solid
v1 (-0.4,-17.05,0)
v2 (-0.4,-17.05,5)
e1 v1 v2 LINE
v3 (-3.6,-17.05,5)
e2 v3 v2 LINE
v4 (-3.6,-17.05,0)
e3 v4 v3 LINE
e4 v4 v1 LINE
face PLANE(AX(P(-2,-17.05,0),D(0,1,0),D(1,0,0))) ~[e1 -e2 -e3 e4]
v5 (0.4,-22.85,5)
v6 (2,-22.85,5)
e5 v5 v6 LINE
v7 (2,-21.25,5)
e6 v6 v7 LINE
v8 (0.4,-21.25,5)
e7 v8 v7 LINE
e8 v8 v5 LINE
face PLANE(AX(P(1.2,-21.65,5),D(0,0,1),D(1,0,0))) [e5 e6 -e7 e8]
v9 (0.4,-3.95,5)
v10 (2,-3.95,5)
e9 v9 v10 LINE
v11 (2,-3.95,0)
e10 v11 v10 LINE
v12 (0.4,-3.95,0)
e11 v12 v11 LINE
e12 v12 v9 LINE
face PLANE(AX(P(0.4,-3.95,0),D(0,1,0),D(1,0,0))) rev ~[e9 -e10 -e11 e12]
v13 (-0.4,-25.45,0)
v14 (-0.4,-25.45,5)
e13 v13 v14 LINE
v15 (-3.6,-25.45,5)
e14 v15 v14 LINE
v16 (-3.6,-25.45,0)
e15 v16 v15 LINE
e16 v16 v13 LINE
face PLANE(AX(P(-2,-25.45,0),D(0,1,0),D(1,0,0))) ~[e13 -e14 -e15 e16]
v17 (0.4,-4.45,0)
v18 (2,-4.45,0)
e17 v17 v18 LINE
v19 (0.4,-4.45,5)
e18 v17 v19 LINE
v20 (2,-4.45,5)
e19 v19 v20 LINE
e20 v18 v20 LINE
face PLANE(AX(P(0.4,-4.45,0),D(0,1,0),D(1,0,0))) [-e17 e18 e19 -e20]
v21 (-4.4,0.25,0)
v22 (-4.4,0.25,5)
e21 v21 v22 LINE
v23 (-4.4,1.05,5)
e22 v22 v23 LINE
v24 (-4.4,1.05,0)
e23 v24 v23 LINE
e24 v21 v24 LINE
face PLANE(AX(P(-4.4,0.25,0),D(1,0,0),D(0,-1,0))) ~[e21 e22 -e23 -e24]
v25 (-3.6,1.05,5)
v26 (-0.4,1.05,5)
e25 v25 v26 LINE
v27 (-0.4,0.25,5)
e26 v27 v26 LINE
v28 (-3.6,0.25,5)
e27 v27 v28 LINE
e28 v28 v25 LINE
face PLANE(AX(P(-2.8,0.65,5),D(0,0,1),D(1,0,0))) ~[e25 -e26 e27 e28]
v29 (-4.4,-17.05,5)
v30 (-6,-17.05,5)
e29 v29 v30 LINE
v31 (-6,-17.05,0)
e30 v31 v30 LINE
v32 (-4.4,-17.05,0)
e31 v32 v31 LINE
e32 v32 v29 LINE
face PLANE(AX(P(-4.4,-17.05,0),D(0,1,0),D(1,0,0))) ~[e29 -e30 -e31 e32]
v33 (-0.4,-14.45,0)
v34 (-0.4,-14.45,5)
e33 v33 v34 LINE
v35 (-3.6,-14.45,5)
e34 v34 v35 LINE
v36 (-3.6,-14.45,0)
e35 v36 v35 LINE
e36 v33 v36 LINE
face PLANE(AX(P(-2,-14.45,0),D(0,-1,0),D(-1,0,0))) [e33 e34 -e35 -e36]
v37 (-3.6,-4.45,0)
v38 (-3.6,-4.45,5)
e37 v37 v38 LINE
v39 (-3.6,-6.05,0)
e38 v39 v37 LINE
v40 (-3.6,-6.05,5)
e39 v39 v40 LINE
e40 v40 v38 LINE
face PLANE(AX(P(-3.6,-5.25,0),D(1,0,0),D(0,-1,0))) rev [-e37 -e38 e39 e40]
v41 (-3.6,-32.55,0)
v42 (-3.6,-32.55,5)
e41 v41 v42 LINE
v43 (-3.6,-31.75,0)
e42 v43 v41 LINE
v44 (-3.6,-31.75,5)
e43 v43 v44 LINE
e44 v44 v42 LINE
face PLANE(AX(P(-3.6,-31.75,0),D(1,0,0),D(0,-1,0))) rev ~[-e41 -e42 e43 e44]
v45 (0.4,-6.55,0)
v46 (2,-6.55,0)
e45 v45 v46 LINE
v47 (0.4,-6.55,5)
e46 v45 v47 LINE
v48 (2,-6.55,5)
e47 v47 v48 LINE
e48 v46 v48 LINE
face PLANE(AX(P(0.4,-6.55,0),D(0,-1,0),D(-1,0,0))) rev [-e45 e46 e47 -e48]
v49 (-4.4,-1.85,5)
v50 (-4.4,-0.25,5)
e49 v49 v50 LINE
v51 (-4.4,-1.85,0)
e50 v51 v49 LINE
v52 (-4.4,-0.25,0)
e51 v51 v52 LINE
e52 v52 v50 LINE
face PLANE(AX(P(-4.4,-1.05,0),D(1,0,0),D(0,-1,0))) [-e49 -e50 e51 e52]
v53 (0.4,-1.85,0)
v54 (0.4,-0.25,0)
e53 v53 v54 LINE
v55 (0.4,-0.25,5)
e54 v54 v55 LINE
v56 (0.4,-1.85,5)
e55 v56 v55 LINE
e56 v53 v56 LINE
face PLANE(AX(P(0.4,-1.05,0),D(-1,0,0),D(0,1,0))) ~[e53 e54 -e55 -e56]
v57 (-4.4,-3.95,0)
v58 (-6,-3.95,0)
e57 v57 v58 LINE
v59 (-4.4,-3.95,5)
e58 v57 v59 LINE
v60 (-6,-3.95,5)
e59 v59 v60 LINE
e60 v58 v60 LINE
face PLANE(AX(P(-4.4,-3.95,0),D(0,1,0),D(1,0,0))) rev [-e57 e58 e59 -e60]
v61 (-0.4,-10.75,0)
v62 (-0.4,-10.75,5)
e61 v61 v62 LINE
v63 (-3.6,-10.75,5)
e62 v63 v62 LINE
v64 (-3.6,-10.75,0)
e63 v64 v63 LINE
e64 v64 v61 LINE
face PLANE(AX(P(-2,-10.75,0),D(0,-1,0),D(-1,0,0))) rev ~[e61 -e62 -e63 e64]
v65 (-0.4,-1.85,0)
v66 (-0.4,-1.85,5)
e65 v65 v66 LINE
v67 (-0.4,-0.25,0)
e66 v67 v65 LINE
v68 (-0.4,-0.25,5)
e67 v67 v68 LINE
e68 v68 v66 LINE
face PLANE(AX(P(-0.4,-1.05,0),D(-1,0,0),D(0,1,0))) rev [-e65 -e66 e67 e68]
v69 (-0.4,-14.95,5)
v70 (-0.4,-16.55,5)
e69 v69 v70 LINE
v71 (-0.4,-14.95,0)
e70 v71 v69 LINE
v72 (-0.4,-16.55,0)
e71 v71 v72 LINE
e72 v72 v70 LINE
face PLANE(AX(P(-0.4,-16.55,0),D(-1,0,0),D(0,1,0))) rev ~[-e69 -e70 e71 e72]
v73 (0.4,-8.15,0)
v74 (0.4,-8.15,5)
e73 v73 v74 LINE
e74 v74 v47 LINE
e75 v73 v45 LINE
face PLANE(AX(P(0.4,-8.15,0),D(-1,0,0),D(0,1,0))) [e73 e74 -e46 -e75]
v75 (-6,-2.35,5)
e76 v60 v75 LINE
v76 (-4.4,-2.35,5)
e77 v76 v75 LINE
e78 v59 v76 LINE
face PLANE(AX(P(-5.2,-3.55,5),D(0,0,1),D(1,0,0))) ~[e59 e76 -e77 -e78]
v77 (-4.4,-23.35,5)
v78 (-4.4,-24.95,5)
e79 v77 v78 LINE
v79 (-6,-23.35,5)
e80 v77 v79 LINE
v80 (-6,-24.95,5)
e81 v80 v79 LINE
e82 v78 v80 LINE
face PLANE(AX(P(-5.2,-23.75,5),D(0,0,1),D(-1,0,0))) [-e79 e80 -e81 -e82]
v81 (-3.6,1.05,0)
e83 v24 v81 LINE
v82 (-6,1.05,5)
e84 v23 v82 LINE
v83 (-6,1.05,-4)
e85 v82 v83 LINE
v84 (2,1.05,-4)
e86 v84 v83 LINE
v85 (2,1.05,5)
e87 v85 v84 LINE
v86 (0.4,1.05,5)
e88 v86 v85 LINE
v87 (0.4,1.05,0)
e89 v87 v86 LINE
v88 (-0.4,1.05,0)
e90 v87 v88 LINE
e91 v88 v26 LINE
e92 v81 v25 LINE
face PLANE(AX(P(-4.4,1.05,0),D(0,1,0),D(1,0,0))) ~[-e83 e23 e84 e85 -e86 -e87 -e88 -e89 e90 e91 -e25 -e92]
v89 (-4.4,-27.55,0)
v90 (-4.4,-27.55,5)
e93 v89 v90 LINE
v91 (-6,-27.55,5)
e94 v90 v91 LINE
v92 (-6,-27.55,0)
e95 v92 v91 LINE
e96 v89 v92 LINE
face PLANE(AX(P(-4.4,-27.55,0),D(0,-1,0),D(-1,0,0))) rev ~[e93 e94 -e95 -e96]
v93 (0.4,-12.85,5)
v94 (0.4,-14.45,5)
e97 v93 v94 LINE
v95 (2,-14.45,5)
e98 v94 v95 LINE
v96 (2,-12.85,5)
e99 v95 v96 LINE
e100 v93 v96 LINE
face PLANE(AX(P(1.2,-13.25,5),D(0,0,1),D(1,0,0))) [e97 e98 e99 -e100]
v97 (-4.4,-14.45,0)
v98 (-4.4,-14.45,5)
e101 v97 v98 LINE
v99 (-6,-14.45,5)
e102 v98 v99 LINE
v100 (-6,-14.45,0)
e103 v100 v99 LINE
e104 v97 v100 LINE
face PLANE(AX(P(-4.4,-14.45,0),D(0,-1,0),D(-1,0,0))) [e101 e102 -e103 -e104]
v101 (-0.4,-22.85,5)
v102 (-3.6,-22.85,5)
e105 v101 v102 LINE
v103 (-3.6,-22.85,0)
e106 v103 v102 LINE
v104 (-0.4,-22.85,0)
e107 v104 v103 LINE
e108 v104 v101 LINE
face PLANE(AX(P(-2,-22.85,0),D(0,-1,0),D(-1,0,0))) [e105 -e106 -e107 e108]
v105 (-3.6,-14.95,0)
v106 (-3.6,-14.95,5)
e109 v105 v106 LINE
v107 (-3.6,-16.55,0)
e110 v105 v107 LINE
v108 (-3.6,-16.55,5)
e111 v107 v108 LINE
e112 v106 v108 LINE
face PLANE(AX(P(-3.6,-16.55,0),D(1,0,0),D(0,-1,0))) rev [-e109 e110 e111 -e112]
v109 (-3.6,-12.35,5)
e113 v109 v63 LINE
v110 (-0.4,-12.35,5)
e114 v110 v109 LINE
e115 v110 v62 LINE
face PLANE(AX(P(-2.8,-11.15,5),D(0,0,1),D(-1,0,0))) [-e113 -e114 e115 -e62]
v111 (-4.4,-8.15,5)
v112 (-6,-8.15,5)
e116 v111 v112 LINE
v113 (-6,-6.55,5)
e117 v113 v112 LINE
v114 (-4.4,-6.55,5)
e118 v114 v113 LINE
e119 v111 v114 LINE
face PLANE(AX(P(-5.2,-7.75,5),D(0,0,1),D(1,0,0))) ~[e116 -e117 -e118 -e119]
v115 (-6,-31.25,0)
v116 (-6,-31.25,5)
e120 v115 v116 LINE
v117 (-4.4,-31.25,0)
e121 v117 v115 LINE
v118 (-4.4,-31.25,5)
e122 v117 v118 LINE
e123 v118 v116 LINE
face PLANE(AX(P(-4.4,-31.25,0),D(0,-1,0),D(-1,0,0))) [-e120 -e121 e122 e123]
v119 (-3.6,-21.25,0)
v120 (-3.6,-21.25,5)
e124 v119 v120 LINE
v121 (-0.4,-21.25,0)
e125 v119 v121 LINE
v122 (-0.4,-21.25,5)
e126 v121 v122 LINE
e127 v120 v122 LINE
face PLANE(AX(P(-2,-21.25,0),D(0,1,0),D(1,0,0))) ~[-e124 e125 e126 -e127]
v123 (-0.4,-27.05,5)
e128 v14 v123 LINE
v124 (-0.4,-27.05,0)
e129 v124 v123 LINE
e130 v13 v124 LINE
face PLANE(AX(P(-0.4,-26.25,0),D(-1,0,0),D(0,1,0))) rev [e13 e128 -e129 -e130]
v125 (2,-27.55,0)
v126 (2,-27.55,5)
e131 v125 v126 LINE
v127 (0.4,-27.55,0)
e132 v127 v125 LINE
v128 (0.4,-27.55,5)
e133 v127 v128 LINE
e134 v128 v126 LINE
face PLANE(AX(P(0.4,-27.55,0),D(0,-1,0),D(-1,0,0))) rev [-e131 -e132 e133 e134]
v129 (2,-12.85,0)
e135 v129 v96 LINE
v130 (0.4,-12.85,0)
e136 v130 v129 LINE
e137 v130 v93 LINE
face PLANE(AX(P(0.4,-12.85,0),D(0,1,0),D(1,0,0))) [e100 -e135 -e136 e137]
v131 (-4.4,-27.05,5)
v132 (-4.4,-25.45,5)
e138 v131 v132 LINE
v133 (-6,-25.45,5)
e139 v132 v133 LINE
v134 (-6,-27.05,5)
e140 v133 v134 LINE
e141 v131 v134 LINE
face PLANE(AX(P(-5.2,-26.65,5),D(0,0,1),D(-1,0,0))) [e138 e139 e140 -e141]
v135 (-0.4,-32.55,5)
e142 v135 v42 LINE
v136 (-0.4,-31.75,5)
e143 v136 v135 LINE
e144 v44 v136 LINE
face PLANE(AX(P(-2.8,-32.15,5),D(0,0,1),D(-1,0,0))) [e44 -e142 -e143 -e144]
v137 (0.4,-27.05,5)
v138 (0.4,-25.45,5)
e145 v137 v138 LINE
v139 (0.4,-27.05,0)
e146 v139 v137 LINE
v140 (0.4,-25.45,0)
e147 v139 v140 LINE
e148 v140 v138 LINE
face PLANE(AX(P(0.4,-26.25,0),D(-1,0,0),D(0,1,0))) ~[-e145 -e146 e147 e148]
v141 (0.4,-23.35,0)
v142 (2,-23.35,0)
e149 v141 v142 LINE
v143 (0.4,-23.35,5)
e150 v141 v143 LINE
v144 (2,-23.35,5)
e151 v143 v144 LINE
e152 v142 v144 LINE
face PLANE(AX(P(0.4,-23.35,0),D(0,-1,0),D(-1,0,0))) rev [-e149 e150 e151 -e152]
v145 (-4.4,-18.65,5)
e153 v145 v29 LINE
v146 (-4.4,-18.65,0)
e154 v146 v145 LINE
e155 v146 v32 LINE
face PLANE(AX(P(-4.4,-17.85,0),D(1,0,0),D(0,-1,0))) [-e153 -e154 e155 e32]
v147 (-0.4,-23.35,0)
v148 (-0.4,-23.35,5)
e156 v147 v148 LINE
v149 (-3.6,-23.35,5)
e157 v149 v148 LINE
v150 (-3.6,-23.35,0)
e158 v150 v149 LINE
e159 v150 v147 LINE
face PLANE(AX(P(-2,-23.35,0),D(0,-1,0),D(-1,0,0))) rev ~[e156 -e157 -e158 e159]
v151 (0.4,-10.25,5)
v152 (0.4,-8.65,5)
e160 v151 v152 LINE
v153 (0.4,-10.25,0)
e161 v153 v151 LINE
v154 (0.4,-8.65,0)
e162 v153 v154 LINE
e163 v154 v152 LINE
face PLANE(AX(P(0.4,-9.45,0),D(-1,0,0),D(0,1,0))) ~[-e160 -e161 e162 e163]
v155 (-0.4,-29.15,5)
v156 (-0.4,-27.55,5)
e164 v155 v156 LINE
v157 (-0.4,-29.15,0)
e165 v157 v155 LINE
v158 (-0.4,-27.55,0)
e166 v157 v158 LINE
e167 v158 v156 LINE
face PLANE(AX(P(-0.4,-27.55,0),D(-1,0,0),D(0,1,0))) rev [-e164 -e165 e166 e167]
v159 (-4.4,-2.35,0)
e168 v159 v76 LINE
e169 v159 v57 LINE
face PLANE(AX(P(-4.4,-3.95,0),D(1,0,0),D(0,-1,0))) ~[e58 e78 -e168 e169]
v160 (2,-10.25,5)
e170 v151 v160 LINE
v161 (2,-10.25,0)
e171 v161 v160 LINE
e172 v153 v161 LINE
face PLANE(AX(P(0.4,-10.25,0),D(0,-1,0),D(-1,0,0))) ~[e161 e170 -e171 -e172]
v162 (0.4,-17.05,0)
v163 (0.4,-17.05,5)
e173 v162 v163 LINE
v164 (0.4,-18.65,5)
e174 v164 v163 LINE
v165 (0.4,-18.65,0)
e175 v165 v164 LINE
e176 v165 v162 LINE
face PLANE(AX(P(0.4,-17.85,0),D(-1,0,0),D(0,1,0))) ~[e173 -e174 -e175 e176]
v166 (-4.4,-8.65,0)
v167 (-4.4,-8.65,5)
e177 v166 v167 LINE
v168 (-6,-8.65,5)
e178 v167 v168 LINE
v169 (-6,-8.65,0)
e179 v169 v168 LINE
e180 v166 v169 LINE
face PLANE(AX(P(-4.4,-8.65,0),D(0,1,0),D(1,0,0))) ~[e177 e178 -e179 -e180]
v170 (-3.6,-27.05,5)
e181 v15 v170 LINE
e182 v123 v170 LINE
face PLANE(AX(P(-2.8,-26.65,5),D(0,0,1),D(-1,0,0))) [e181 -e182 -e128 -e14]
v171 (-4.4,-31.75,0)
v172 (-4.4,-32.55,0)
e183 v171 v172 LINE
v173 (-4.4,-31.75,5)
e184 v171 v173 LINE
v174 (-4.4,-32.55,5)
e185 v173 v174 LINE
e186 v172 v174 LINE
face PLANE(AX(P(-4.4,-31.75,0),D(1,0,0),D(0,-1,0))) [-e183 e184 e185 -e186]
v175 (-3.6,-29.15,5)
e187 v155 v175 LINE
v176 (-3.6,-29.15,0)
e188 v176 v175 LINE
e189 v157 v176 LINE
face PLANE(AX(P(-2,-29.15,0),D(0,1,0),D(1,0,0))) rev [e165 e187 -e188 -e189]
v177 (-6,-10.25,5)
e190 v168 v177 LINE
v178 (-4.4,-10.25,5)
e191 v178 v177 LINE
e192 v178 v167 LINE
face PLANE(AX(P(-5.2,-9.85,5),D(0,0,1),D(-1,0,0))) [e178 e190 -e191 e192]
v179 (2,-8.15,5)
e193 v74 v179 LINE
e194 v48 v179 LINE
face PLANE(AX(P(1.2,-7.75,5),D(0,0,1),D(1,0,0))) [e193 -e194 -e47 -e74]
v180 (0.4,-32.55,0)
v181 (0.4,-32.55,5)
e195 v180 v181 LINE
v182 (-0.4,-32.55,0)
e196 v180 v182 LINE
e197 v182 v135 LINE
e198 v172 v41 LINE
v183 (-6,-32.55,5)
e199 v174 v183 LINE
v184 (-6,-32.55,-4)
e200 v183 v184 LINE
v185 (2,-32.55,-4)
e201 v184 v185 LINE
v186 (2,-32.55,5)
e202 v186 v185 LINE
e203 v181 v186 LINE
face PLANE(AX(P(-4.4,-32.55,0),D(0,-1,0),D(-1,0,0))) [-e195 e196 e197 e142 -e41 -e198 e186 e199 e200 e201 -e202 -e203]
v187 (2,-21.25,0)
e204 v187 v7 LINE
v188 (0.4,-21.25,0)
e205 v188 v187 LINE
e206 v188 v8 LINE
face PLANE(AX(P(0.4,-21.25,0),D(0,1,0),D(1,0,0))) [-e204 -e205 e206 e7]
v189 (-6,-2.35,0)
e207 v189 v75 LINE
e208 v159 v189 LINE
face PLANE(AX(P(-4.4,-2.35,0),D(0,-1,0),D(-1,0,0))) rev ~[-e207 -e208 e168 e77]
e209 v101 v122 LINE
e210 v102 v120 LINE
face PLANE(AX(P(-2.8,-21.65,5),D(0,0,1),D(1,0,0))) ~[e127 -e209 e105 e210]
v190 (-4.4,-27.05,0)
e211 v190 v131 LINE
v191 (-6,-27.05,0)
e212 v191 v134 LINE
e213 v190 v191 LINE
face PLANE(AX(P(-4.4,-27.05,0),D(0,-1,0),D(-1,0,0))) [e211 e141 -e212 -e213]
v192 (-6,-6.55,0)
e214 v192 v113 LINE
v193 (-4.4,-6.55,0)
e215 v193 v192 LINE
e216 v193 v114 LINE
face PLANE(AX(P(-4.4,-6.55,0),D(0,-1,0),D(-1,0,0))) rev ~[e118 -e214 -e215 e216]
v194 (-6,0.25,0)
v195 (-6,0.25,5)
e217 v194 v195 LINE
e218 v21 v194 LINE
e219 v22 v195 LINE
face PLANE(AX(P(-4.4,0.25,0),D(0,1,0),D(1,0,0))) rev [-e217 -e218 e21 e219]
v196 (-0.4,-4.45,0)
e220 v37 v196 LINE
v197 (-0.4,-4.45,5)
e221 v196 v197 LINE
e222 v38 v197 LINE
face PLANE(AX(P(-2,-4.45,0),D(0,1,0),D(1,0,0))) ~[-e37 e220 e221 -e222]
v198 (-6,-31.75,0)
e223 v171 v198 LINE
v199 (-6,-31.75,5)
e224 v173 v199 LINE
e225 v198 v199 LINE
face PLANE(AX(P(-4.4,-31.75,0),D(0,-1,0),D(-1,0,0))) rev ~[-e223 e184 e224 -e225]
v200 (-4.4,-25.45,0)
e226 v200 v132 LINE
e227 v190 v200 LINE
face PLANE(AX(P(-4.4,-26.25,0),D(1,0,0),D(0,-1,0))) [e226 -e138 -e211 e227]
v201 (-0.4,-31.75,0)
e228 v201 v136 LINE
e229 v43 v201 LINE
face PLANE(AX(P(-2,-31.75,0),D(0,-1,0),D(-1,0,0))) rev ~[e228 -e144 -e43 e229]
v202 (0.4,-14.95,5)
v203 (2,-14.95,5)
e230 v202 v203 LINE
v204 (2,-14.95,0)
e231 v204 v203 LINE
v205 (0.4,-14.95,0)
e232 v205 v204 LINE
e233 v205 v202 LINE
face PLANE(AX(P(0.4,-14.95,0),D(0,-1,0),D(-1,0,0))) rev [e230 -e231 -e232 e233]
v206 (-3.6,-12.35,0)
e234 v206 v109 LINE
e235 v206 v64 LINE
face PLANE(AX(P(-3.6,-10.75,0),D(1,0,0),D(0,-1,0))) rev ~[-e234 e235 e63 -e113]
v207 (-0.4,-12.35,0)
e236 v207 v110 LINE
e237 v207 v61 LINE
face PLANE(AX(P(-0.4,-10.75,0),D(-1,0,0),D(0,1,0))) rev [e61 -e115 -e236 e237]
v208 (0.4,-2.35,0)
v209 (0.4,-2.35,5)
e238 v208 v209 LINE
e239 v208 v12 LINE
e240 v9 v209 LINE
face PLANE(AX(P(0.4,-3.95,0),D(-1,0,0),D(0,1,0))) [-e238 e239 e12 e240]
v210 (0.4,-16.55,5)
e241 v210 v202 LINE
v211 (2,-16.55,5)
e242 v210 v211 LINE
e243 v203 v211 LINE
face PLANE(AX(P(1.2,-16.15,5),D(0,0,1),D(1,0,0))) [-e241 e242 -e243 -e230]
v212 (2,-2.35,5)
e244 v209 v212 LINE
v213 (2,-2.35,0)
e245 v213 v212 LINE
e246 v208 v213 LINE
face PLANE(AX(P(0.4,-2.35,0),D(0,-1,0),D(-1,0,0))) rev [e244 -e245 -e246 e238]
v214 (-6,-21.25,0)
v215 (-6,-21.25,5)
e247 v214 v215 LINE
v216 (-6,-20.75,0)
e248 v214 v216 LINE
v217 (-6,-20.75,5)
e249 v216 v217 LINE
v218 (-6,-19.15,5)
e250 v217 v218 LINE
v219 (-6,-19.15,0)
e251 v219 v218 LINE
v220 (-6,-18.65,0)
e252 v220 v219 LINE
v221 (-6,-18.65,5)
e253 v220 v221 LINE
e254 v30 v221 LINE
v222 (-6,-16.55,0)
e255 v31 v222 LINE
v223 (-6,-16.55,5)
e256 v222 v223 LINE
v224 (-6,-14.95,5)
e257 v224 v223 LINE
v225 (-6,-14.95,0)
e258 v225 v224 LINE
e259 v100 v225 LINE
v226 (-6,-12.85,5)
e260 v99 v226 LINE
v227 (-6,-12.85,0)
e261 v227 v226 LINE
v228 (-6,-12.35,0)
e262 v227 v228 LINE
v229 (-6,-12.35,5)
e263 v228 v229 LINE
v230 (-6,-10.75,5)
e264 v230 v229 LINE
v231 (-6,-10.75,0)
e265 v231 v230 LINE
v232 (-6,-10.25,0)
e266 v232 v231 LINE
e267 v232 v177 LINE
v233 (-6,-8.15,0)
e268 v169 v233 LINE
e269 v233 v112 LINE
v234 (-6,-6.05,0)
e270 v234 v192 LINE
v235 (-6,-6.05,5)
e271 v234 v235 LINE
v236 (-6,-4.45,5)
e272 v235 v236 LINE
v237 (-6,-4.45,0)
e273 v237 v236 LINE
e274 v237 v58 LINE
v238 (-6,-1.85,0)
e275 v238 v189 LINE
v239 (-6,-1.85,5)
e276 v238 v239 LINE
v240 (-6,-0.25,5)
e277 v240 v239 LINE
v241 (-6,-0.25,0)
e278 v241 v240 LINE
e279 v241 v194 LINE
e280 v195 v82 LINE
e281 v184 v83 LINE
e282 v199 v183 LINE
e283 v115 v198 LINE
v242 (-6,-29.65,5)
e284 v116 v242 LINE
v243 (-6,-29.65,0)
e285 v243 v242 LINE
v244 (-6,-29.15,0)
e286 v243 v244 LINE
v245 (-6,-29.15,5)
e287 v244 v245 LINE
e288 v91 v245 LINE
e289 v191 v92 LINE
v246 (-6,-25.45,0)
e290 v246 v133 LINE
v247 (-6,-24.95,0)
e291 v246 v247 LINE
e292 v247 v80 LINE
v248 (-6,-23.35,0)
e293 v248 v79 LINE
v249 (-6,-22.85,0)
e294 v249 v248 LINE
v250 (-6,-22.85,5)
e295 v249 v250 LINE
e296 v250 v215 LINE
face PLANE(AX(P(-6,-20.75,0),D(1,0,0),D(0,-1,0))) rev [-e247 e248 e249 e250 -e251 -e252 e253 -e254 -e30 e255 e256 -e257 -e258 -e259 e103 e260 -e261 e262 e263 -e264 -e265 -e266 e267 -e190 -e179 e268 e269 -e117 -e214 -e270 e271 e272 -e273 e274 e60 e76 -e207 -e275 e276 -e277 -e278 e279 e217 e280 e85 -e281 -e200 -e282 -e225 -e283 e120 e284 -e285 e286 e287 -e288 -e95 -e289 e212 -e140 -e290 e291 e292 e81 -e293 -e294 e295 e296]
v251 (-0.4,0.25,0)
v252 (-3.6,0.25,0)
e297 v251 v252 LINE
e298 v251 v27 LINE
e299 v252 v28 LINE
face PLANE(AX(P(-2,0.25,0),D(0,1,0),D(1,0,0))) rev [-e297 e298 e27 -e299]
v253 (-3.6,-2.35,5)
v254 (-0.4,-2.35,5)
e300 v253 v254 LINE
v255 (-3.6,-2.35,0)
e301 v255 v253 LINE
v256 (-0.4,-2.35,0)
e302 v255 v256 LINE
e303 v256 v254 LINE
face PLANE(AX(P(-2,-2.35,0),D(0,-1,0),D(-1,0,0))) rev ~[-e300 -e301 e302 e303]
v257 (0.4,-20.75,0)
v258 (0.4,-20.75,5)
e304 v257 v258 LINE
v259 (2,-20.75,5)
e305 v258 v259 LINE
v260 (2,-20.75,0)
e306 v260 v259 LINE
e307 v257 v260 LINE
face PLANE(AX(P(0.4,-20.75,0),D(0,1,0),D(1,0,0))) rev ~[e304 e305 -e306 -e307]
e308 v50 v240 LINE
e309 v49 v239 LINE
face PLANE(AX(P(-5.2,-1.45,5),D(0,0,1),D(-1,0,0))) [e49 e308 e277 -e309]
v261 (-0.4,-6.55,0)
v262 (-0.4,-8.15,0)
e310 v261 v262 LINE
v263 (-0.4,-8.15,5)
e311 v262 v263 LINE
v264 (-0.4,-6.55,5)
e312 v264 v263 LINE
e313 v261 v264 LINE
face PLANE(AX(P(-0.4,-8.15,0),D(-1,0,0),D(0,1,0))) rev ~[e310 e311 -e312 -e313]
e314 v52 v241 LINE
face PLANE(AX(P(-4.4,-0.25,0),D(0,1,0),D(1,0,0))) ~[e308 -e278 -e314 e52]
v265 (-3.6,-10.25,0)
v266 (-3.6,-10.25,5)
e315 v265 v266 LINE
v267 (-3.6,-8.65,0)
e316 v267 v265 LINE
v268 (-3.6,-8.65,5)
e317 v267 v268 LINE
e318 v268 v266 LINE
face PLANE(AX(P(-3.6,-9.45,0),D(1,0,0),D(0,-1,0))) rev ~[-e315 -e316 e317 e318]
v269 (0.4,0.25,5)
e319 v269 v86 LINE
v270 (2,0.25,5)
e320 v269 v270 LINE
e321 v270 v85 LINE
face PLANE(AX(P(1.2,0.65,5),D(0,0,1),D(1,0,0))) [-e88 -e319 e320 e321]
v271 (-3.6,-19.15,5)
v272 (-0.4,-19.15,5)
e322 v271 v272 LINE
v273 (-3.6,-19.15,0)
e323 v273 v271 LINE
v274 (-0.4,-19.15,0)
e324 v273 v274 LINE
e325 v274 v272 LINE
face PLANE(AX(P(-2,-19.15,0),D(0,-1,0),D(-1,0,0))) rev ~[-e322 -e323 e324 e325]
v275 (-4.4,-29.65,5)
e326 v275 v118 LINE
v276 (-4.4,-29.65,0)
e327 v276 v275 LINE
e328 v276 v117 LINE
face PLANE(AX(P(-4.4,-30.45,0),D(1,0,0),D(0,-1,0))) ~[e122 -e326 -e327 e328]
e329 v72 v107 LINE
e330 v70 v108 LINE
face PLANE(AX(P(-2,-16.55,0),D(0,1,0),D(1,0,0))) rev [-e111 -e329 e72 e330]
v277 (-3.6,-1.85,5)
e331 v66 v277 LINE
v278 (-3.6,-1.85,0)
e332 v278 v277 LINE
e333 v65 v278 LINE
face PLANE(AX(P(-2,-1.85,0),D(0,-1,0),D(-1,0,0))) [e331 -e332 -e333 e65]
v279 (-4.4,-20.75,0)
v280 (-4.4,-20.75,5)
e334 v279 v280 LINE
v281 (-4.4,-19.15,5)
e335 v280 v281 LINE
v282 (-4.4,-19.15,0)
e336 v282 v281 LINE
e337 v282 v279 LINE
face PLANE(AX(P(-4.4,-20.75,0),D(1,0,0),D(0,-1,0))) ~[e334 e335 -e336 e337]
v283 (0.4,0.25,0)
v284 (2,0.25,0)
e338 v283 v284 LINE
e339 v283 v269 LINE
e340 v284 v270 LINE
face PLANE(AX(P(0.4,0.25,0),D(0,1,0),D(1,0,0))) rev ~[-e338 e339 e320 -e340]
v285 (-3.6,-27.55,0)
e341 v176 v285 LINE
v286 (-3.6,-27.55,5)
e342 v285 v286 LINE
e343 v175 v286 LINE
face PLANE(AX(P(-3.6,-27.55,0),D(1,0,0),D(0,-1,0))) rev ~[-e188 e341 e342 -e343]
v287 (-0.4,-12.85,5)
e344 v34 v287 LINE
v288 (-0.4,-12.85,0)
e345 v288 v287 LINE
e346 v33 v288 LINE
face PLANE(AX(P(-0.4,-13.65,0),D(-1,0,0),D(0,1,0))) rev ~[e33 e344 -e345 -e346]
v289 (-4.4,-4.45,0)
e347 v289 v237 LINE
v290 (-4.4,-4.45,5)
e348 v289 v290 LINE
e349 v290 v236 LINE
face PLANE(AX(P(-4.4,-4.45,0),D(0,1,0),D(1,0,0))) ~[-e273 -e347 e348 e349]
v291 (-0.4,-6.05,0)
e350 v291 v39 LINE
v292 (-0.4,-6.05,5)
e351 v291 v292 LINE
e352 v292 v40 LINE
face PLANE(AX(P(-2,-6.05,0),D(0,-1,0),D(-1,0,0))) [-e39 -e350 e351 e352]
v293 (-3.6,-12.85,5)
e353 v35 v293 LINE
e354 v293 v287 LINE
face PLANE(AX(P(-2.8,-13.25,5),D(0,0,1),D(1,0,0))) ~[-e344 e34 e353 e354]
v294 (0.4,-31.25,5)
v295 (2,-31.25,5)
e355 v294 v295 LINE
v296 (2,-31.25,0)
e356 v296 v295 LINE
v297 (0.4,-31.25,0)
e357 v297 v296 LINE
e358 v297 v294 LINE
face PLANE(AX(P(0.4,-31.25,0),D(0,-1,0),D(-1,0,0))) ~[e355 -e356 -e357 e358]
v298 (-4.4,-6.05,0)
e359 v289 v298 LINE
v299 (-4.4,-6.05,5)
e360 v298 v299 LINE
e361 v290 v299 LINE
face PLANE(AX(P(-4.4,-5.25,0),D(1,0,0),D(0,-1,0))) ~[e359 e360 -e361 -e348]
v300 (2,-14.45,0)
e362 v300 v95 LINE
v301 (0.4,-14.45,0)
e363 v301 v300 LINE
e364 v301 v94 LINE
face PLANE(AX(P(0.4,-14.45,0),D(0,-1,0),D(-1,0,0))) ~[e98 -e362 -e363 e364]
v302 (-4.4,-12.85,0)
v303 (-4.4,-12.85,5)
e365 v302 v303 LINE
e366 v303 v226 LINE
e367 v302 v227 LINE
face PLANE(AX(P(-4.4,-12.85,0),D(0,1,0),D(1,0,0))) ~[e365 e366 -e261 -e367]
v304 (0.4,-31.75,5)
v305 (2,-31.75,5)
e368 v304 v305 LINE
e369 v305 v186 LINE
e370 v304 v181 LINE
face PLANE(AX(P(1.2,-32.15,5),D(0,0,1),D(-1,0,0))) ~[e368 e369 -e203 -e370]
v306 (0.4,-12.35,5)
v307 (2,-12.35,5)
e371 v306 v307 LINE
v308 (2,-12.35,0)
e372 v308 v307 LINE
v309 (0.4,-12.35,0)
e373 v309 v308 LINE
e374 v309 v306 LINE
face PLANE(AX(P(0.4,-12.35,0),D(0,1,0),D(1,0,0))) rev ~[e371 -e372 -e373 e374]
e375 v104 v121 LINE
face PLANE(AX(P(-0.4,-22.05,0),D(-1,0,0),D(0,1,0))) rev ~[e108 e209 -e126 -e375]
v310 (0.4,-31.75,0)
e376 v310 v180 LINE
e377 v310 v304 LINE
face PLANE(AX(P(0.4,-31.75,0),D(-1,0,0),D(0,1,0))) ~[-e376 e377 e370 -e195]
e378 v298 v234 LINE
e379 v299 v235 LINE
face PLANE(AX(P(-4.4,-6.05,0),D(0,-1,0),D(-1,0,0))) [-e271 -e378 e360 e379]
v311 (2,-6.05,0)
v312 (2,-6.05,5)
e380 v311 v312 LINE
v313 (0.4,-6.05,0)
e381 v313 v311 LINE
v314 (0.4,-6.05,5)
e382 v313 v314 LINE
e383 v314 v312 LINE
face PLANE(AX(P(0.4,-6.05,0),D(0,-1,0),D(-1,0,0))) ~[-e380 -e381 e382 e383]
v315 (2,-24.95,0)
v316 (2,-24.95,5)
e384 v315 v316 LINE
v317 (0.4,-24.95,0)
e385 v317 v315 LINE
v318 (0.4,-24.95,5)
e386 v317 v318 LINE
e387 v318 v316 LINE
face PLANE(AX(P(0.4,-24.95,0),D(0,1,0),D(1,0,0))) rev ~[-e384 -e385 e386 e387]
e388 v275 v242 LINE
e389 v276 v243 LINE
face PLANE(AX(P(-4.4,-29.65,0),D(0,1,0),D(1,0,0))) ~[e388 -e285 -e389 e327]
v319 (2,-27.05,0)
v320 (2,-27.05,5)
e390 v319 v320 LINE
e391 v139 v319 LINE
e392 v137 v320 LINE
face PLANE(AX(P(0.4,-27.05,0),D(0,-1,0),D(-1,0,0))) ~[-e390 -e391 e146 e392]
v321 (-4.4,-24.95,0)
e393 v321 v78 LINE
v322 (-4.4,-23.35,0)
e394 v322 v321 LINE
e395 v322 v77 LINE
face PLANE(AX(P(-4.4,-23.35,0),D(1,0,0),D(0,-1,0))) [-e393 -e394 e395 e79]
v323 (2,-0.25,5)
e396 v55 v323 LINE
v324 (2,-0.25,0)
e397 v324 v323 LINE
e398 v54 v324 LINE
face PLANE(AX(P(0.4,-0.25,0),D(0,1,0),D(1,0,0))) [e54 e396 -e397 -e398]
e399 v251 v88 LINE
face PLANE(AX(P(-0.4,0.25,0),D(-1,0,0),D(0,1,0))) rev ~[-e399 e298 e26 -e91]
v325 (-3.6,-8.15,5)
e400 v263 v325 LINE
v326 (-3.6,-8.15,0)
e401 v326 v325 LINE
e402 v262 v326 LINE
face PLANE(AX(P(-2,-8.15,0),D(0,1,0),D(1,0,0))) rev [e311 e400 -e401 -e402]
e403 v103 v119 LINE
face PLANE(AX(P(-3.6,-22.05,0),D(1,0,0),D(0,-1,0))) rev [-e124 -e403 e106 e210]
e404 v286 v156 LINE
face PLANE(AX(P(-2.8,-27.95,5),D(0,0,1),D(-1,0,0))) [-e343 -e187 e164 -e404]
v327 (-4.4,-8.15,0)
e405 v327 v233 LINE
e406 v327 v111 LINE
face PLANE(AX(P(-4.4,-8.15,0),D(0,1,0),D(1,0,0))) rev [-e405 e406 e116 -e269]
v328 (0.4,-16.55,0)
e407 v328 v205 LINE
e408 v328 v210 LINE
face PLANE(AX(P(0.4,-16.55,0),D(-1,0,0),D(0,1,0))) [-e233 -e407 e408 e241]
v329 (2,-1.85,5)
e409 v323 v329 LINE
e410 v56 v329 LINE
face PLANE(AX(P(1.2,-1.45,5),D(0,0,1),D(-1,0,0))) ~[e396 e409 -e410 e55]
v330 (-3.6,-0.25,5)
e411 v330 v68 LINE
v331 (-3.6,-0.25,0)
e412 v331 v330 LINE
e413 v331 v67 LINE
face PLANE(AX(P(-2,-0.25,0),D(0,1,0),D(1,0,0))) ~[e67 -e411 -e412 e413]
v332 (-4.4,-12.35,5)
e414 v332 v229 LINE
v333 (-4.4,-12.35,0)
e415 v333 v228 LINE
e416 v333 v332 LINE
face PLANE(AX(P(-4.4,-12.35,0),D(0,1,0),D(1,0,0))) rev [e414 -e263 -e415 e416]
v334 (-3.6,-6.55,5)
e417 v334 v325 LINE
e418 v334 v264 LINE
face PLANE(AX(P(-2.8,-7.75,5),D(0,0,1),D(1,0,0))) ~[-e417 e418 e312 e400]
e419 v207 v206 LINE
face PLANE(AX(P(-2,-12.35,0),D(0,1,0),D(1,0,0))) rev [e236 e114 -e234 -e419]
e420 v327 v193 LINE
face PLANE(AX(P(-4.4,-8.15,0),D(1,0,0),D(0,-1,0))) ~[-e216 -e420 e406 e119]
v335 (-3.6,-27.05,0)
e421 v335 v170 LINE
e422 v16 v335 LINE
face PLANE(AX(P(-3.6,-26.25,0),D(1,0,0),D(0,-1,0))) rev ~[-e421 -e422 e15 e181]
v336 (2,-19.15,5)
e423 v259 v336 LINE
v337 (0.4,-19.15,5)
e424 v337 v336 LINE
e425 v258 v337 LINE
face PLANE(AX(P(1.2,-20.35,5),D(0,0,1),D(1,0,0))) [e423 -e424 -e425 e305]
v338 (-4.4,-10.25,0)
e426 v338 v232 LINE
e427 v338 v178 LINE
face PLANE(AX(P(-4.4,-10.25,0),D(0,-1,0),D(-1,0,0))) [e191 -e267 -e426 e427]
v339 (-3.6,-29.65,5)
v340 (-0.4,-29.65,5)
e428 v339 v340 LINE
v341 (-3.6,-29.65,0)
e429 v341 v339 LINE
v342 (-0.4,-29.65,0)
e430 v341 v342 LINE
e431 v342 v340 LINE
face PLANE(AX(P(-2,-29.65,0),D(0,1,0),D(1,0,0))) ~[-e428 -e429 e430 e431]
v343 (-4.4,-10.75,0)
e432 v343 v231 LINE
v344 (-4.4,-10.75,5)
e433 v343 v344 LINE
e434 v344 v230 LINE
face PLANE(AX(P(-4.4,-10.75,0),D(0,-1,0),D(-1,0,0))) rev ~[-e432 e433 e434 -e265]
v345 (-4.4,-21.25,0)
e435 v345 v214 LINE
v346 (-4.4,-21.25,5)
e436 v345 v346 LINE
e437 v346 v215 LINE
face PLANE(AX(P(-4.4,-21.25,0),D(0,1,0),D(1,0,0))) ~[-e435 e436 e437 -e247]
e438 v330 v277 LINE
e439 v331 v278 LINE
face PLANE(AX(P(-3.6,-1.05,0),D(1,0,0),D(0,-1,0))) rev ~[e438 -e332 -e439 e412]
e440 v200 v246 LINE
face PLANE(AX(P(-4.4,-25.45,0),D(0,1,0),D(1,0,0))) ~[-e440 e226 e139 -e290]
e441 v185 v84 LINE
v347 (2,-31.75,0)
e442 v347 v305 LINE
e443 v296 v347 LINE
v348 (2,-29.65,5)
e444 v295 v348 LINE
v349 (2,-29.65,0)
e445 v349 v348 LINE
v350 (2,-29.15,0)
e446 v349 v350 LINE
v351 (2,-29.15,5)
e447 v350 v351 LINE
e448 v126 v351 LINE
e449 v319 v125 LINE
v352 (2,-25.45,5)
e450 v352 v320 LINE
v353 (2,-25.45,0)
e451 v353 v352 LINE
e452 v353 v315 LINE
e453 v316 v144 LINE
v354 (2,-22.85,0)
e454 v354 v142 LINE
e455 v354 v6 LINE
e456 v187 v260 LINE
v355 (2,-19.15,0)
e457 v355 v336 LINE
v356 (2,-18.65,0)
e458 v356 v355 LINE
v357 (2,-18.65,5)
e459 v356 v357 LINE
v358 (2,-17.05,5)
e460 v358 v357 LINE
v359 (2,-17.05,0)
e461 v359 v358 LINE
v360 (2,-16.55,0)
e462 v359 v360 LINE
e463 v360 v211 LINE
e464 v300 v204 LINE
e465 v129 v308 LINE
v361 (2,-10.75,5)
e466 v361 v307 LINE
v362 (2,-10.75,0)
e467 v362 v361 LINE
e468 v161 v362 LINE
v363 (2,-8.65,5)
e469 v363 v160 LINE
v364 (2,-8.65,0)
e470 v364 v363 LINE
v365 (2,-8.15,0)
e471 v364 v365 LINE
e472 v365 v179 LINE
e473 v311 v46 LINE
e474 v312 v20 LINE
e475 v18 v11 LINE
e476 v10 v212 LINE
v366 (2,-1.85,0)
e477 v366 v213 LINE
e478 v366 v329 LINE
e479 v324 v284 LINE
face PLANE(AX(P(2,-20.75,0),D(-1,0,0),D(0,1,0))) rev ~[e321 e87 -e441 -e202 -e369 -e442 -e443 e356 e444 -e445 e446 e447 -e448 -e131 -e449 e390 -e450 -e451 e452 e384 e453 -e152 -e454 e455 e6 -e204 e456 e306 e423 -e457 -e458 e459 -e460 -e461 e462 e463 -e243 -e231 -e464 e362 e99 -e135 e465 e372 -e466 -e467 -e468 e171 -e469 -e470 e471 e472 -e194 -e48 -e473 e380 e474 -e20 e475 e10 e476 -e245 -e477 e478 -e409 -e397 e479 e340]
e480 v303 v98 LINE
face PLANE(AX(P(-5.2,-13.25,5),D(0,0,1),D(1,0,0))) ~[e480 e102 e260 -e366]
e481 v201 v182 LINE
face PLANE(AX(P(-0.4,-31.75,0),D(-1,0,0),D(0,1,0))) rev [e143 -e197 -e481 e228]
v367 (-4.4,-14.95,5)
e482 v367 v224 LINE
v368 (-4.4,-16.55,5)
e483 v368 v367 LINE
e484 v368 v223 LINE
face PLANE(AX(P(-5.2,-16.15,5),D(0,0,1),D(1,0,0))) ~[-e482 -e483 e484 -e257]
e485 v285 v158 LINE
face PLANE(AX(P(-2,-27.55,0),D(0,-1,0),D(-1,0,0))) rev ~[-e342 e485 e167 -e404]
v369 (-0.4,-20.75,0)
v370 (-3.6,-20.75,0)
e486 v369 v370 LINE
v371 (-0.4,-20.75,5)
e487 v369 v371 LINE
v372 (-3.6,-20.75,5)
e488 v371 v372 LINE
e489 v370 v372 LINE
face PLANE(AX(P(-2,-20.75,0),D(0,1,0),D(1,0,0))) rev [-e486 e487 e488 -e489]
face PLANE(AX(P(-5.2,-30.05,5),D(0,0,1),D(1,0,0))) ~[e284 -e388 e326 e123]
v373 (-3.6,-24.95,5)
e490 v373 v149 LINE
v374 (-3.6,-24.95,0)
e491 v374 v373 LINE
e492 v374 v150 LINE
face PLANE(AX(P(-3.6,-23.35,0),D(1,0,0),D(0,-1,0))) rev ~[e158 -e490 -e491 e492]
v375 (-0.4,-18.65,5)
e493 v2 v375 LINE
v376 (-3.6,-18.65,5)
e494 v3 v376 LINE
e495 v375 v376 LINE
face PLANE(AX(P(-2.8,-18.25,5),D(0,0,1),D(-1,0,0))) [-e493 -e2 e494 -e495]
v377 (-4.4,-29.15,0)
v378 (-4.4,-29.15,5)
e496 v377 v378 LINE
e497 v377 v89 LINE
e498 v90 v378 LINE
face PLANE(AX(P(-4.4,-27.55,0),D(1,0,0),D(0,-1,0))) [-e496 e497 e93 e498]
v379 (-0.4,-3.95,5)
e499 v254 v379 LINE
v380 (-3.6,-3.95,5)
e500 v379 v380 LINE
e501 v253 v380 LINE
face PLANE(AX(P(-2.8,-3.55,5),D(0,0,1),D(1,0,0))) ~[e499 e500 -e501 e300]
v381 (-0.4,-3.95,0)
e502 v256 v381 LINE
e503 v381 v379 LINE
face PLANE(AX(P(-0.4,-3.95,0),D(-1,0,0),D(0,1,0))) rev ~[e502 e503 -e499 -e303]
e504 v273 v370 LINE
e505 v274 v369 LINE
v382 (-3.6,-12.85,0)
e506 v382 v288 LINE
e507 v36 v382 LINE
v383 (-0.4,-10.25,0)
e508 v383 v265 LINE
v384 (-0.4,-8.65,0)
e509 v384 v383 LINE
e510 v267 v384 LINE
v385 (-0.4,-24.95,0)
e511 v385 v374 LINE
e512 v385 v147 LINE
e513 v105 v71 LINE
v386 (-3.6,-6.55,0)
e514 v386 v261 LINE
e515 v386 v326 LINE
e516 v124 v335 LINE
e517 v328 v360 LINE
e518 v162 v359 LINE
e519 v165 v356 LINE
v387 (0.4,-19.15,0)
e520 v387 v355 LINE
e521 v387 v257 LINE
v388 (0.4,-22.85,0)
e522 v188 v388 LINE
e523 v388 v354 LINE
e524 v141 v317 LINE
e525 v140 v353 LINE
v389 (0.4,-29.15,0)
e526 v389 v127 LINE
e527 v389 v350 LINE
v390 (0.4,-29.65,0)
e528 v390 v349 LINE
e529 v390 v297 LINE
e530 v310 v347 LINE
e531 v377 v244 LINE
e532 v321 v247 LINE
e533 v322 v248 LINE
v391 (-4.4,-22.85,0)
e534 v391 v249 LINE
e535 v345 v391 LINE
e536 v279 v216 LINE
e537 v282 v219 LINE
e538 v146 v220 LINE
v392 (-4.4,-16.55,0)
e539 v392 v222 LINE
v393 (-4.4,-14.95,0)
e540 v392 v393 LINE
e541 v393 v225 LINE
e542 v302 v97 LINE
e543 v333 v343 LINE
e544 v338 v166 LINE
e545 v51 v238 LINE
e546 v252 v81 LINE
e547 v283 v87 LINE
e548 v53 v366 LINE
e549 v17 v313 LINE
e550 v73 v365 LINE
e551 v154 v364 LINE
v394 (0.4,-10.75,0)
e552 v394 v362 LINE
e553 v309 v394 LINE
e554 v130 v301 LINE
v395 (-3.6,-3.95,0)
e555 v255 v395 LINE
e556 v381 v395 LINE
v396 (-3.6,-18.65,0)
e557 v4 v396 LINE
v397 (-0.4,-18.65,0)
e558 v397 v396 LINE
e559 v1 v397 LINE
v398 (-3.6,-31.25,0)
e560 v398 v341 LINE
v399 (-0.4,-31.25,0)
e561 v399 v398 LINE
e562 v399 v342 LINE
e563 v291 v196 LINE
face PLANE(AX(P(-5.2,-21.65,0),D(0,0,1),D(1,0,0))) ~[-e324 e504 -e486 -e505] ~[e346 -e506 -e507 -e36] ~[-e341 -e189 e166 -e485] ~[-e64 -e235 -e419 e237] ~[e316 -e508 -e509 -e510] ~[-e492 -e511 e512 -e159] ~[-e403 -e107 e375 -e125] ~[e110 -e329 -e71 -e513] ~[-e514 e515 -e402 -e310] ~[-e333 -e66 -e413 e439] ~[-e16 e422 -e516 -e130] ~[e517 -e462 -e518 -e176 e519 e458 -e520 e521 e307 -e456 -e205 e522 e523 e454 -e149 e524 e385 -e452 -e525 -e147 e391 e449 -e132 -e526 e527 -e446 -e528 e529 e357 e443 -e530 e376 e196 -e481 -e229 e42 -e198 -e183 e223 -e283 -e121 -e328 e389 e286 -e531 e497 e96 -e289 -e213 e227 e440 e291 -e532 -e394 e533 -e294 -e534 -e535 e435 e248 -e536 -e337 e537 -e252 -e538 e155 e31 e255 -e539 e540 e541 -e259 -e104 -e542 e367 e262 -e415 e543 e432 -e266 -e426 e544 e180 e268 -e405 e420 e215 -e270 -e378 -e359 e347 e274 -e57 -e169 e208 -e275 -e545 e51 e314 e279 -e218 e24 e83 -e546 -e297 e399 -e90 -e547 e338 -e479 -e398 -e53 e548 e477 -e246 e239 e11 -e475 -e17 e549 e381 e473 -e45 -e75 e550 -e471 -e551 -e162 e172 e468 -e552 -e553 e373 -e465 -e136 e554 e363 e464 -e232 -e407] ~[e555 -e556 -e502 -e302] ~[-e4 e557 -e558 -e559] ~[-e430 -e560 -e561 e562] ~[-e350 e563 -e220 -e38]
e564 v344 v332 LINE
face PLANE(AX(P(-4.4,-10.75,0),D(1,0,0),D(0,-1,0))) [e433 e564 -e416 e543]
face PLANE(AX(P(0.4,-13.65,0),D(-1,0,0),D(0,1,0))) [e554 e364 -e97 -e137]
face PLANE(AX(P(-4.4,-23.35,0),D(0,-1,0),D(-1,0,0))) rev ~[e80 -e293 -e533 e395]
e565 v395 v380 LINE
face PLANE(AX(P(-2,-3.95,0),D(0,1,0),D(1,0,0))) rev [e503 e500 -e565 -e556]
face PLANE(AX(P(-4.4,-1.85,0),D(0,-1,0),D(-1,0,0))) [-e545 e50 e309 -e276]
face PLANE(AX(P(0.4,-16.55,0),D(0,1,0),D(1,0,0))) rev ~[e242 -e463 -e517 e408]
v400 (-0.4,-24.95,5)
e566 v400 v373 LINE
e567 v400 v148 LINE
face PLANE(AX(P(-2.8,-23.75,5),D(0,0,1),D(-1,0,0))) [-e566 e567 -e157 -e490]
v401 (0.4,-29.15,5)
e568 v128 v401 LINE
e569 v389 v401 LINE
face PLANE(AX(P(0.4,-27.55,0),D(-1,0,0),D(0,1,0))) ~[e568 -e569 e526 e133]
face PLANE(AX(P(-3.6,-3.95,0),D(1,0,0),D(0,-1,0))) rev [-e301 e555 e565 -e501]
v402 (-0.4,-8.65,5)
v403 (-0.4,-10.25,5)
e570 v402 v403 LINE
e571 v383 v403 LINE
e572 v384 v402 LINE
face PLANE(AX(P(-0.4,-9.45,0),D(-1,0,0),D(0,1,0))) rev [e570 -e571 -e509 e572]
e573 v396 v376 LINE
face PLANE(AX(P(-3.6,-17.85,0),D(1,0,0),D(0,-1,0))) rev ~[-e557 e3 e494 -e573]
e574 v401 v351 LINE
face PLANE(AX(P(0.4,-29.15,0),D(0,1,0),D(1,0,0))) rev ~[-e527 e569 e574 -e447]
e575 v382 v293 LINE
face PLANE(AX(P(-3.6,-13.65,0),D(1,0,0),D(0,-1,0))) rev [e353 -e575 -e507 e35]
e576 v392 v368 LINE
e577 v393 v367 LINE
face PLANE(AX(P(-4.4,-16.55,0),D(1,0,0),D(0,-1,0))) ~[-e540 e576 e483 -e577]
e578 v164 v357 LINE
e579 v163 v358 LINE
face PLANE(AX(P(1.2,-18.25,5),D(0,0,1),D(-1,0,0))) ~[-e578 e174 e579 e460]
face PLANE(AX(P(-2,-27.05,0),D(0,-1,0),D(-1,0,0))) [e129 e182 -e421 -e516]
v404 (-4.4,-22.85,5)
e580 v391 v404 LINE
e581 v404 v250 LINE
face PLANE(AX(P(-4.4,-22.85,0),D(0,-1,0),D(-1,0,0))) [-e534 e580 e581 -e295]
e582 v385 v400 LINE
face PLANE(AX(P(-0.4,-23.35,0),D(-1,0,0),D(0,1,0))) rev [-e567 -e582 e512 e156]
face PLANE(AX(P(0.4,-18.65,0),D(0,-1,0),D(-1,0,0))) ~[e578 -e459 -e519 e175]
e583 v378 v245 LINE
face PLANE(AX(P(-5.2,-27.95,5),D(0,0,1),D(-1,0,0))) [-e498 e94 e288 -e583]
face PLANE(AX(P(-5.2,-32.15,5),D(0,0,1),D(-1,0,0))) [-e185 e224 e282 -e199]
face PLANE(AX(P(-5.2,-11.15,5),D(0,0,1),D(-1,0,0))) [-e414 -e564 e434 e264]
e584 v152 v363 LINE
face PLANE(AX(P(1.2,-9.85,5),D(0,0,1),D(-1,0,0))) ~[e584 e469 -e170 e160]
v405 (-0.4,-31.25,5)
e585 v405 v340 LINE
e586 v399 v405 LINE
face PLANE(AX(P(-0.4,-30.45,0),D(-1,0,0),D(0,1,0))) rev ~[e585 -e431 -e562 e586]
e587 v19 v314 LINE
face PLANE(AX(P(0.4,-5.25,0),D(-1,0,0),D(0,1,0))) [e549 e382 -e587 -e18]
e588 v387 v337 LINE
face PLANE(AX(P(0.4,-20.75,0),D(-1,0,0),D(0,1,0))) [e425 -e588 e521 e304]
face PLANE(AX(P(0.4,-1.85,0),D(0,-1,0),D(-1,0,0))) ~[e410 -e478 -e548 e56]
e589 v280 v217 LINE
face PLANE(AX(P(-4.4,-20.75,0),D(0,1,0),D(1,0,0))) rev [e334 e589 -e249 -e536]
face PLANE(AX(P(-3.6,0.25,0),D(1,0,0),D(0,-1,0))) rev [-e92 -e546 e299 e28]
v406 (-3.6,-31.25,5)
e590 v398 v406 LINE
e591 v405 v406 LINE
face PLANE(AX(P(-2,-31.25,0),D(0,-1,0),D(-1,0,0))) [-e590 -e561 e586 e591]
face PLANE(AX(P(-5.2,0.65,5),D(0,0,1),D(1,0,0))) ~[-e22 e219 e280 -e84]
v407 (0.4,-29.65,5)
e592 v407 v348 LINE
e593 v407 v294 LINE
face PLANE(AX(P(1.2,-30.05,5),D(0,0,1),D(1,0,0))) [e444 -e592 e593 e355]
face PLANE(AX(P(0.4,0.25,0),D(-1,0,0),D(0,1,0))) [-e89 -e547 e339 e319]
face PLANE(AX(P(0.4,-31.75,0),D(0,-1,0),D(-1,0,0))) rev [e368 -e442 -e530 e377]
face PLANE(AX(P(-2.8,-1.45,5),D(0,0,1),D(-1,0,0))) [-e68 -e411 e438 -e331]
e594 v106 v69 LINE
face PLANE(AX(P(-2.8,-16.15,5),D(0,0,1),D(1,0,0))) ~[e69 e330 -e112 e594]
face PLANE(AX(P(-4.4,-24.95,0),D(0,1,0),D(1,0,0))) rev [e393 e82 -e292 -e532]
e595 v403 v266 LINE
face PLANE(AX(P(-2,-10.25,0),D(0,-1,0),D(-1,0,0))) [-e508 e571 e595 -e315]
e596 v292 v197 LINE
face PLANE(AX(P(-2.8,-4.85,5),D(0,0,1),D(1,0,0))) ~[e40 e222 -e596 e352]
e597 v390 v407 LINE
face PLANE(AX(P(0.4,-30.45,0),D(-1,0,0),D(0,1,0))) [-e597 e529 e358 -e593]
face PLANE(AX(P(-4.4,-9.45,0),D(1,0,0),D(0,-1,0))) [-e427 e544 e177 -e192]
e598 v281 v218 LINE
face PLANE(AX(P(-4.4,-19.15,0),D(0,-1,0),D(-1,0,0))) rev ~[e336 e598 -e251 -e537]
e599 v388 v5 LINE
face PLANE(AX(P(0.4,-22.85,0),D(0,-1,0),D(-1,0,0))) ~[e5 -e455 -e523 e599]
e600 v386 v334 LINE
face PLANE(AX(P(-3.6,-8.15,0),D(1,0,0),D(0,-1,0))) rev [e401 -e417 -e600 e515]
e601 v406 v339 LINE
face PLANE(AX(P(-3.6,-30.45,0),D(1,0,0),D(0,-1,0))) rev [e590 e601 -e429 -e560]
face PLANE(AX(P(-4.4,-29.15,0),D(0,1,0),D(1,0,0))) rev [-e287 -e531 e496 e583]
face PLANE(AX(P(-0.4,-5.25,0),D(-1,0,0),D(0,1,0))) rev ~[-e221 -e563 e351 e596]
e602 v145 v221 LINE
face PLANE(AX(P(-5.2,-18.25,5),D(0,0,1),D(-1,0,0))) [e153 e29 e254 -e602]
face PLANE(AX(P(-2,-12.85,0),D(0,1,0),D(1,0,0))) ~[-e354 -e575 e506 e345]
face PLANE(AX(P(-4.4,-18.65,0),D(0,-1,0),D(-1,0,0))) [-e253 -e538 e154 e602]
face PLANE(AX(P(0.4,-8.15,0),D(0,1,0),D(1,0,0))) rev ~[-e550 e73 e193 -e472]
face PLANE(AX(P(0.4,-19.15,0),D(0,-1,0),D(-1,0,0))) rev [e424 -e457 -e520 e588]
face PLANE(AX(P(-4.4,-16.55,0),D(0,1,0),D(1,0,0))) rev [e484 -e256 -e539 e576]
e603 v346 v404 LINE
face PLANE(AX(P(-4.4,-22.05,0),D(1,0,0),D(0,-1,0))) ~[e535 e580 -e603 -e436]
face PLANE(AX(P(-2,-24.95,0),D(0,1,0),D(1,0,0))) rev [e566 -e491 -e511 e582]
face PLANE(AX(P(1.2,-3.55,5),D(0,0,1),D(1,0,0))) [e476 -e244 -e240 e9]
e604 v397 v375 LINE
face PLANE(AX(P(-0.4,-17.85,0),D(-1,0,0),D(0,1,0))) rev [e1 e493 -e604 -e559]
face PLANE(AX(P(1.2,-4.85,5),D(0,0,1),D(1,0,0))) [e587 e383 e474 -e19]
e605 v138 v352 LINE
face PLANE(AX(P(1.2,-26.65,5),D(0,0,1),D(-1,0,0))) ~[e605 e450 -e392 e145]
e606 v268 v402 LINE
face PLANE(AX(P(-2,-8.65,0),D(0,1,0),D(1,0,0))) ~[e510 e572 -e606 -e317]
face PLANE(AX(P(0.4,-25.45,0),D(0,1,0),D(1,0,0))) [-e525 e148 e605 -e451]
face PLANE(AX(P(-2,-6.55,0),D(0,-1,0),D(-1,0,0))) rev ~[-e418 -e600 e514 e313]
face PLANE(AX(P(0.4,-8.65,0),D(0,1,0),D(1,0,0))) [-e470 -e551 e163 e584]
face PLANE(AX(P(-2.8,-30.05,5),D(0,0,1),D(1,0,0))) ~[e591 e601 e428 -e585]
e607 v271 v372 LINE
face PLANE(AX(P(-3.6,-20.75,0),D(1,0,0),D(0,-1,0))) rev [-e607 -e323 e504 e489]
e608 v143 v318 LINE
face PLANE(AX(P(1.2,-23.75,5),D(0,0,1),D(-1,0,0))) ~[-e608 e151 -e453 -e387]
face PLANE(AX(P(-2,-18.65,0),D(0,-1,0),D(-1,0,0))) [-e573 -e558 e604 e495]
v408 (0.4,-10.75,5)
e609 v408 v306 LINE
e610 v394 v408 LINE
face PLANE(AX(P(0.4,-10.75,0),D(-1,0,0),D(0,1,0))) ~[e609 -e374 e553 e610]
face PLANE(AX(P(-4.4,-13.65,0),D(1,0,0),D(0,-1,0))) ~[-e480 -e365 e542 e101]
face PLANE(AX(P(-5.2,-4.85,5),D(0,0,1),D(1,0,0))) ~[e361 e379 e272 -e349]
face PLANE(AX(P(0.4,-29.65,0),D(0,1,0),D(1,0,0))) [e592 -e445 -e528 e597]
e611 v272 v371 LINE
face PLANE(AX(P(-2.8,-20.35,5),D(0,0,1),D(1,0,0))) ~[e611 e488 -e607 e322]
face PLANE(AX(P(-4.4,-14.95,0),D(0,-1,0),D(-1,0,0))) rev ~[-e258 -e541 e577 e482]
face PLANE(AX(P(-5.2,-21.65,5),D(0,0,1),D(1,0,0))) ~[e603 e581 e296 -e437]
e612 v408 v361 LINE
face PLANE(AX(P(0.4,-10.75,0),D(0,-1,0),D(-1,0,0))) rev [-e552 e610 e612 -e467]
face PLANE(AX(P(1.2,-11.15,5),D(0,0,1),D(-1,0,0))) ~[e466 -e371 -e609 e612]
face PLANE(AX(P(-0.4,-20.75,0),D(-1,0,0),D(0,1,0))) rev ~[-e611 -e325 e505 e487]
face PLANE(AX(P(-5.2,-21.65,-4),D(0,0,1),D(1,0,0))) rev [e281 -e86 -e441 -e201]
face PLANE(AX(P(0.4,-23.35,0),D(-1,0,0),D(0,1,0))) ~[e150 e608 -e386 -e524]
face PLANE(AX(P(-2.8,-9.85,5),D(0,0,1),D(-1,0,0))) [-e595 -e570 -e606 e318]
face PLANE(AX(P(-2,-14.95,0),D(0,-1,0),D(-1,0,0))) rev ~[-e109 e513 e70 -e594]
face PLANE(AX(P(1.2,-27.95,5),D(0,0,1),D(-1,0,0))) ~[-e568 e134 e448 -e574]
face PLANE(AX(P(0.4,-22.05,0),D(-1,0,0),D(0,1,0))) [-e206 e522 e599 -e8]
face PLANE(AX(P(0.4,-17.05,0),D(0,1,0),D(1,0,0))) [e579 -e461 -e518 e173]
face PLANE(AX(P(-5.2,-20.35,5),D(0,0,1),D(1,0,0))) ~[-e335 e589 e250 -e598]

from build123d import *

# Parameters (mm, degrees)
F0_W     = 1.6
F0_H     = 0.8
F0_W_2   = 0.8
F0_H_2   = 0.5
F1_DEPTH = 4
F2_DEPTH = 5


with BuildPart() as f1:
    # F0 (on Top) → F1 (new body)
    with BuildSketch(Plane.XY):
        with Locations((1.2, -0.65)):
            Rectangle(F0_W, F0_H)
        with Locations((0, 0.65)):
            Rectangle(F0_W_2, F0_H)
        with Locations((1.2, 0)):
            Rectangle(F0_W, F0_H_2)
        with Locations((0, -0.65)):
            Rectangle(F0_W_2, F0_H)
        with Locations((-1.2, -0.65)):
            Rectangle(F0_W, F0_H)
        with Locations((-1.2, 0.65)):
            Rectangle(F0_W, F0_H)
        with Locations((1.2, 0.65)):
            Rectangle(F0_W, F0_H)
        with Locations((-1.2, 0)):
            Rectangle(F0_W, F0_H_2)
        Rectangle(F0_W_2, F0_H_2)
    extrude(amount=-F1_DEPTH)

    # F0 (on Top) → F2 (join)
    with BuildSketch(Plane.XY):
        with Locations((1.2, 0.65)):
            Rectangle(F0_W, F0_H)
        with Locations((-1.2, 0.65)):
            Rectangle(F0_W, F0_H)
        with Locations((1.2, -0.65)):
            Rectangle(F0_W, F0_H)
        with Locations((-1.2, -0.65)):
            Rectangle(F0_W, F0_H)
    extrude(amount=F2_DEPTH)

    # F3: F1 across face


with BuildPart() as f1_1:
    add(f1.part)
    add(f1.part.mirror(Plane(origin=(0, -1.05, 0.25), x_dir=(1, 0, 0), z_dir=(0, -1, 0))))

    # F4: F1 across face


with BuildPart() as f1_2:
    add(f1_1.part)
    add(f1_1.part.mirror(Plane(origin=(0, -3.15, 0.25), x_dir=(1, 0, 0), z_dir=(0, -1, 0))))

    # F5: F1 across face


with BuildPart() as f1_3:
    add(f1_2.part)
    add(f1_2.part.mirror(Plane(origin=(0, -7.35, 0.25), x_dir=(1, 0, 0), z_dir=(0, -1, 0))))

    # F6: F1 across face


with BuildPart() as f1_4:
    add(f1_3.part)
    add(f1_3.part.mirror(Plane(origin=(0, -15.75, 0.25), x_dir=(1, 0, 0), z_dir=(0, -1, 0))))

    # F7: F1 across face


with BuildPart() as f1_5:
    add(f1_4.part)
    add(f1_4.part.mirror(Plane(origin=(-2, -15.75, 0.1951219512), x_dir=(0, -1, 0), z_dir=(-1, 0, 0))))


solid = f1_5.part
